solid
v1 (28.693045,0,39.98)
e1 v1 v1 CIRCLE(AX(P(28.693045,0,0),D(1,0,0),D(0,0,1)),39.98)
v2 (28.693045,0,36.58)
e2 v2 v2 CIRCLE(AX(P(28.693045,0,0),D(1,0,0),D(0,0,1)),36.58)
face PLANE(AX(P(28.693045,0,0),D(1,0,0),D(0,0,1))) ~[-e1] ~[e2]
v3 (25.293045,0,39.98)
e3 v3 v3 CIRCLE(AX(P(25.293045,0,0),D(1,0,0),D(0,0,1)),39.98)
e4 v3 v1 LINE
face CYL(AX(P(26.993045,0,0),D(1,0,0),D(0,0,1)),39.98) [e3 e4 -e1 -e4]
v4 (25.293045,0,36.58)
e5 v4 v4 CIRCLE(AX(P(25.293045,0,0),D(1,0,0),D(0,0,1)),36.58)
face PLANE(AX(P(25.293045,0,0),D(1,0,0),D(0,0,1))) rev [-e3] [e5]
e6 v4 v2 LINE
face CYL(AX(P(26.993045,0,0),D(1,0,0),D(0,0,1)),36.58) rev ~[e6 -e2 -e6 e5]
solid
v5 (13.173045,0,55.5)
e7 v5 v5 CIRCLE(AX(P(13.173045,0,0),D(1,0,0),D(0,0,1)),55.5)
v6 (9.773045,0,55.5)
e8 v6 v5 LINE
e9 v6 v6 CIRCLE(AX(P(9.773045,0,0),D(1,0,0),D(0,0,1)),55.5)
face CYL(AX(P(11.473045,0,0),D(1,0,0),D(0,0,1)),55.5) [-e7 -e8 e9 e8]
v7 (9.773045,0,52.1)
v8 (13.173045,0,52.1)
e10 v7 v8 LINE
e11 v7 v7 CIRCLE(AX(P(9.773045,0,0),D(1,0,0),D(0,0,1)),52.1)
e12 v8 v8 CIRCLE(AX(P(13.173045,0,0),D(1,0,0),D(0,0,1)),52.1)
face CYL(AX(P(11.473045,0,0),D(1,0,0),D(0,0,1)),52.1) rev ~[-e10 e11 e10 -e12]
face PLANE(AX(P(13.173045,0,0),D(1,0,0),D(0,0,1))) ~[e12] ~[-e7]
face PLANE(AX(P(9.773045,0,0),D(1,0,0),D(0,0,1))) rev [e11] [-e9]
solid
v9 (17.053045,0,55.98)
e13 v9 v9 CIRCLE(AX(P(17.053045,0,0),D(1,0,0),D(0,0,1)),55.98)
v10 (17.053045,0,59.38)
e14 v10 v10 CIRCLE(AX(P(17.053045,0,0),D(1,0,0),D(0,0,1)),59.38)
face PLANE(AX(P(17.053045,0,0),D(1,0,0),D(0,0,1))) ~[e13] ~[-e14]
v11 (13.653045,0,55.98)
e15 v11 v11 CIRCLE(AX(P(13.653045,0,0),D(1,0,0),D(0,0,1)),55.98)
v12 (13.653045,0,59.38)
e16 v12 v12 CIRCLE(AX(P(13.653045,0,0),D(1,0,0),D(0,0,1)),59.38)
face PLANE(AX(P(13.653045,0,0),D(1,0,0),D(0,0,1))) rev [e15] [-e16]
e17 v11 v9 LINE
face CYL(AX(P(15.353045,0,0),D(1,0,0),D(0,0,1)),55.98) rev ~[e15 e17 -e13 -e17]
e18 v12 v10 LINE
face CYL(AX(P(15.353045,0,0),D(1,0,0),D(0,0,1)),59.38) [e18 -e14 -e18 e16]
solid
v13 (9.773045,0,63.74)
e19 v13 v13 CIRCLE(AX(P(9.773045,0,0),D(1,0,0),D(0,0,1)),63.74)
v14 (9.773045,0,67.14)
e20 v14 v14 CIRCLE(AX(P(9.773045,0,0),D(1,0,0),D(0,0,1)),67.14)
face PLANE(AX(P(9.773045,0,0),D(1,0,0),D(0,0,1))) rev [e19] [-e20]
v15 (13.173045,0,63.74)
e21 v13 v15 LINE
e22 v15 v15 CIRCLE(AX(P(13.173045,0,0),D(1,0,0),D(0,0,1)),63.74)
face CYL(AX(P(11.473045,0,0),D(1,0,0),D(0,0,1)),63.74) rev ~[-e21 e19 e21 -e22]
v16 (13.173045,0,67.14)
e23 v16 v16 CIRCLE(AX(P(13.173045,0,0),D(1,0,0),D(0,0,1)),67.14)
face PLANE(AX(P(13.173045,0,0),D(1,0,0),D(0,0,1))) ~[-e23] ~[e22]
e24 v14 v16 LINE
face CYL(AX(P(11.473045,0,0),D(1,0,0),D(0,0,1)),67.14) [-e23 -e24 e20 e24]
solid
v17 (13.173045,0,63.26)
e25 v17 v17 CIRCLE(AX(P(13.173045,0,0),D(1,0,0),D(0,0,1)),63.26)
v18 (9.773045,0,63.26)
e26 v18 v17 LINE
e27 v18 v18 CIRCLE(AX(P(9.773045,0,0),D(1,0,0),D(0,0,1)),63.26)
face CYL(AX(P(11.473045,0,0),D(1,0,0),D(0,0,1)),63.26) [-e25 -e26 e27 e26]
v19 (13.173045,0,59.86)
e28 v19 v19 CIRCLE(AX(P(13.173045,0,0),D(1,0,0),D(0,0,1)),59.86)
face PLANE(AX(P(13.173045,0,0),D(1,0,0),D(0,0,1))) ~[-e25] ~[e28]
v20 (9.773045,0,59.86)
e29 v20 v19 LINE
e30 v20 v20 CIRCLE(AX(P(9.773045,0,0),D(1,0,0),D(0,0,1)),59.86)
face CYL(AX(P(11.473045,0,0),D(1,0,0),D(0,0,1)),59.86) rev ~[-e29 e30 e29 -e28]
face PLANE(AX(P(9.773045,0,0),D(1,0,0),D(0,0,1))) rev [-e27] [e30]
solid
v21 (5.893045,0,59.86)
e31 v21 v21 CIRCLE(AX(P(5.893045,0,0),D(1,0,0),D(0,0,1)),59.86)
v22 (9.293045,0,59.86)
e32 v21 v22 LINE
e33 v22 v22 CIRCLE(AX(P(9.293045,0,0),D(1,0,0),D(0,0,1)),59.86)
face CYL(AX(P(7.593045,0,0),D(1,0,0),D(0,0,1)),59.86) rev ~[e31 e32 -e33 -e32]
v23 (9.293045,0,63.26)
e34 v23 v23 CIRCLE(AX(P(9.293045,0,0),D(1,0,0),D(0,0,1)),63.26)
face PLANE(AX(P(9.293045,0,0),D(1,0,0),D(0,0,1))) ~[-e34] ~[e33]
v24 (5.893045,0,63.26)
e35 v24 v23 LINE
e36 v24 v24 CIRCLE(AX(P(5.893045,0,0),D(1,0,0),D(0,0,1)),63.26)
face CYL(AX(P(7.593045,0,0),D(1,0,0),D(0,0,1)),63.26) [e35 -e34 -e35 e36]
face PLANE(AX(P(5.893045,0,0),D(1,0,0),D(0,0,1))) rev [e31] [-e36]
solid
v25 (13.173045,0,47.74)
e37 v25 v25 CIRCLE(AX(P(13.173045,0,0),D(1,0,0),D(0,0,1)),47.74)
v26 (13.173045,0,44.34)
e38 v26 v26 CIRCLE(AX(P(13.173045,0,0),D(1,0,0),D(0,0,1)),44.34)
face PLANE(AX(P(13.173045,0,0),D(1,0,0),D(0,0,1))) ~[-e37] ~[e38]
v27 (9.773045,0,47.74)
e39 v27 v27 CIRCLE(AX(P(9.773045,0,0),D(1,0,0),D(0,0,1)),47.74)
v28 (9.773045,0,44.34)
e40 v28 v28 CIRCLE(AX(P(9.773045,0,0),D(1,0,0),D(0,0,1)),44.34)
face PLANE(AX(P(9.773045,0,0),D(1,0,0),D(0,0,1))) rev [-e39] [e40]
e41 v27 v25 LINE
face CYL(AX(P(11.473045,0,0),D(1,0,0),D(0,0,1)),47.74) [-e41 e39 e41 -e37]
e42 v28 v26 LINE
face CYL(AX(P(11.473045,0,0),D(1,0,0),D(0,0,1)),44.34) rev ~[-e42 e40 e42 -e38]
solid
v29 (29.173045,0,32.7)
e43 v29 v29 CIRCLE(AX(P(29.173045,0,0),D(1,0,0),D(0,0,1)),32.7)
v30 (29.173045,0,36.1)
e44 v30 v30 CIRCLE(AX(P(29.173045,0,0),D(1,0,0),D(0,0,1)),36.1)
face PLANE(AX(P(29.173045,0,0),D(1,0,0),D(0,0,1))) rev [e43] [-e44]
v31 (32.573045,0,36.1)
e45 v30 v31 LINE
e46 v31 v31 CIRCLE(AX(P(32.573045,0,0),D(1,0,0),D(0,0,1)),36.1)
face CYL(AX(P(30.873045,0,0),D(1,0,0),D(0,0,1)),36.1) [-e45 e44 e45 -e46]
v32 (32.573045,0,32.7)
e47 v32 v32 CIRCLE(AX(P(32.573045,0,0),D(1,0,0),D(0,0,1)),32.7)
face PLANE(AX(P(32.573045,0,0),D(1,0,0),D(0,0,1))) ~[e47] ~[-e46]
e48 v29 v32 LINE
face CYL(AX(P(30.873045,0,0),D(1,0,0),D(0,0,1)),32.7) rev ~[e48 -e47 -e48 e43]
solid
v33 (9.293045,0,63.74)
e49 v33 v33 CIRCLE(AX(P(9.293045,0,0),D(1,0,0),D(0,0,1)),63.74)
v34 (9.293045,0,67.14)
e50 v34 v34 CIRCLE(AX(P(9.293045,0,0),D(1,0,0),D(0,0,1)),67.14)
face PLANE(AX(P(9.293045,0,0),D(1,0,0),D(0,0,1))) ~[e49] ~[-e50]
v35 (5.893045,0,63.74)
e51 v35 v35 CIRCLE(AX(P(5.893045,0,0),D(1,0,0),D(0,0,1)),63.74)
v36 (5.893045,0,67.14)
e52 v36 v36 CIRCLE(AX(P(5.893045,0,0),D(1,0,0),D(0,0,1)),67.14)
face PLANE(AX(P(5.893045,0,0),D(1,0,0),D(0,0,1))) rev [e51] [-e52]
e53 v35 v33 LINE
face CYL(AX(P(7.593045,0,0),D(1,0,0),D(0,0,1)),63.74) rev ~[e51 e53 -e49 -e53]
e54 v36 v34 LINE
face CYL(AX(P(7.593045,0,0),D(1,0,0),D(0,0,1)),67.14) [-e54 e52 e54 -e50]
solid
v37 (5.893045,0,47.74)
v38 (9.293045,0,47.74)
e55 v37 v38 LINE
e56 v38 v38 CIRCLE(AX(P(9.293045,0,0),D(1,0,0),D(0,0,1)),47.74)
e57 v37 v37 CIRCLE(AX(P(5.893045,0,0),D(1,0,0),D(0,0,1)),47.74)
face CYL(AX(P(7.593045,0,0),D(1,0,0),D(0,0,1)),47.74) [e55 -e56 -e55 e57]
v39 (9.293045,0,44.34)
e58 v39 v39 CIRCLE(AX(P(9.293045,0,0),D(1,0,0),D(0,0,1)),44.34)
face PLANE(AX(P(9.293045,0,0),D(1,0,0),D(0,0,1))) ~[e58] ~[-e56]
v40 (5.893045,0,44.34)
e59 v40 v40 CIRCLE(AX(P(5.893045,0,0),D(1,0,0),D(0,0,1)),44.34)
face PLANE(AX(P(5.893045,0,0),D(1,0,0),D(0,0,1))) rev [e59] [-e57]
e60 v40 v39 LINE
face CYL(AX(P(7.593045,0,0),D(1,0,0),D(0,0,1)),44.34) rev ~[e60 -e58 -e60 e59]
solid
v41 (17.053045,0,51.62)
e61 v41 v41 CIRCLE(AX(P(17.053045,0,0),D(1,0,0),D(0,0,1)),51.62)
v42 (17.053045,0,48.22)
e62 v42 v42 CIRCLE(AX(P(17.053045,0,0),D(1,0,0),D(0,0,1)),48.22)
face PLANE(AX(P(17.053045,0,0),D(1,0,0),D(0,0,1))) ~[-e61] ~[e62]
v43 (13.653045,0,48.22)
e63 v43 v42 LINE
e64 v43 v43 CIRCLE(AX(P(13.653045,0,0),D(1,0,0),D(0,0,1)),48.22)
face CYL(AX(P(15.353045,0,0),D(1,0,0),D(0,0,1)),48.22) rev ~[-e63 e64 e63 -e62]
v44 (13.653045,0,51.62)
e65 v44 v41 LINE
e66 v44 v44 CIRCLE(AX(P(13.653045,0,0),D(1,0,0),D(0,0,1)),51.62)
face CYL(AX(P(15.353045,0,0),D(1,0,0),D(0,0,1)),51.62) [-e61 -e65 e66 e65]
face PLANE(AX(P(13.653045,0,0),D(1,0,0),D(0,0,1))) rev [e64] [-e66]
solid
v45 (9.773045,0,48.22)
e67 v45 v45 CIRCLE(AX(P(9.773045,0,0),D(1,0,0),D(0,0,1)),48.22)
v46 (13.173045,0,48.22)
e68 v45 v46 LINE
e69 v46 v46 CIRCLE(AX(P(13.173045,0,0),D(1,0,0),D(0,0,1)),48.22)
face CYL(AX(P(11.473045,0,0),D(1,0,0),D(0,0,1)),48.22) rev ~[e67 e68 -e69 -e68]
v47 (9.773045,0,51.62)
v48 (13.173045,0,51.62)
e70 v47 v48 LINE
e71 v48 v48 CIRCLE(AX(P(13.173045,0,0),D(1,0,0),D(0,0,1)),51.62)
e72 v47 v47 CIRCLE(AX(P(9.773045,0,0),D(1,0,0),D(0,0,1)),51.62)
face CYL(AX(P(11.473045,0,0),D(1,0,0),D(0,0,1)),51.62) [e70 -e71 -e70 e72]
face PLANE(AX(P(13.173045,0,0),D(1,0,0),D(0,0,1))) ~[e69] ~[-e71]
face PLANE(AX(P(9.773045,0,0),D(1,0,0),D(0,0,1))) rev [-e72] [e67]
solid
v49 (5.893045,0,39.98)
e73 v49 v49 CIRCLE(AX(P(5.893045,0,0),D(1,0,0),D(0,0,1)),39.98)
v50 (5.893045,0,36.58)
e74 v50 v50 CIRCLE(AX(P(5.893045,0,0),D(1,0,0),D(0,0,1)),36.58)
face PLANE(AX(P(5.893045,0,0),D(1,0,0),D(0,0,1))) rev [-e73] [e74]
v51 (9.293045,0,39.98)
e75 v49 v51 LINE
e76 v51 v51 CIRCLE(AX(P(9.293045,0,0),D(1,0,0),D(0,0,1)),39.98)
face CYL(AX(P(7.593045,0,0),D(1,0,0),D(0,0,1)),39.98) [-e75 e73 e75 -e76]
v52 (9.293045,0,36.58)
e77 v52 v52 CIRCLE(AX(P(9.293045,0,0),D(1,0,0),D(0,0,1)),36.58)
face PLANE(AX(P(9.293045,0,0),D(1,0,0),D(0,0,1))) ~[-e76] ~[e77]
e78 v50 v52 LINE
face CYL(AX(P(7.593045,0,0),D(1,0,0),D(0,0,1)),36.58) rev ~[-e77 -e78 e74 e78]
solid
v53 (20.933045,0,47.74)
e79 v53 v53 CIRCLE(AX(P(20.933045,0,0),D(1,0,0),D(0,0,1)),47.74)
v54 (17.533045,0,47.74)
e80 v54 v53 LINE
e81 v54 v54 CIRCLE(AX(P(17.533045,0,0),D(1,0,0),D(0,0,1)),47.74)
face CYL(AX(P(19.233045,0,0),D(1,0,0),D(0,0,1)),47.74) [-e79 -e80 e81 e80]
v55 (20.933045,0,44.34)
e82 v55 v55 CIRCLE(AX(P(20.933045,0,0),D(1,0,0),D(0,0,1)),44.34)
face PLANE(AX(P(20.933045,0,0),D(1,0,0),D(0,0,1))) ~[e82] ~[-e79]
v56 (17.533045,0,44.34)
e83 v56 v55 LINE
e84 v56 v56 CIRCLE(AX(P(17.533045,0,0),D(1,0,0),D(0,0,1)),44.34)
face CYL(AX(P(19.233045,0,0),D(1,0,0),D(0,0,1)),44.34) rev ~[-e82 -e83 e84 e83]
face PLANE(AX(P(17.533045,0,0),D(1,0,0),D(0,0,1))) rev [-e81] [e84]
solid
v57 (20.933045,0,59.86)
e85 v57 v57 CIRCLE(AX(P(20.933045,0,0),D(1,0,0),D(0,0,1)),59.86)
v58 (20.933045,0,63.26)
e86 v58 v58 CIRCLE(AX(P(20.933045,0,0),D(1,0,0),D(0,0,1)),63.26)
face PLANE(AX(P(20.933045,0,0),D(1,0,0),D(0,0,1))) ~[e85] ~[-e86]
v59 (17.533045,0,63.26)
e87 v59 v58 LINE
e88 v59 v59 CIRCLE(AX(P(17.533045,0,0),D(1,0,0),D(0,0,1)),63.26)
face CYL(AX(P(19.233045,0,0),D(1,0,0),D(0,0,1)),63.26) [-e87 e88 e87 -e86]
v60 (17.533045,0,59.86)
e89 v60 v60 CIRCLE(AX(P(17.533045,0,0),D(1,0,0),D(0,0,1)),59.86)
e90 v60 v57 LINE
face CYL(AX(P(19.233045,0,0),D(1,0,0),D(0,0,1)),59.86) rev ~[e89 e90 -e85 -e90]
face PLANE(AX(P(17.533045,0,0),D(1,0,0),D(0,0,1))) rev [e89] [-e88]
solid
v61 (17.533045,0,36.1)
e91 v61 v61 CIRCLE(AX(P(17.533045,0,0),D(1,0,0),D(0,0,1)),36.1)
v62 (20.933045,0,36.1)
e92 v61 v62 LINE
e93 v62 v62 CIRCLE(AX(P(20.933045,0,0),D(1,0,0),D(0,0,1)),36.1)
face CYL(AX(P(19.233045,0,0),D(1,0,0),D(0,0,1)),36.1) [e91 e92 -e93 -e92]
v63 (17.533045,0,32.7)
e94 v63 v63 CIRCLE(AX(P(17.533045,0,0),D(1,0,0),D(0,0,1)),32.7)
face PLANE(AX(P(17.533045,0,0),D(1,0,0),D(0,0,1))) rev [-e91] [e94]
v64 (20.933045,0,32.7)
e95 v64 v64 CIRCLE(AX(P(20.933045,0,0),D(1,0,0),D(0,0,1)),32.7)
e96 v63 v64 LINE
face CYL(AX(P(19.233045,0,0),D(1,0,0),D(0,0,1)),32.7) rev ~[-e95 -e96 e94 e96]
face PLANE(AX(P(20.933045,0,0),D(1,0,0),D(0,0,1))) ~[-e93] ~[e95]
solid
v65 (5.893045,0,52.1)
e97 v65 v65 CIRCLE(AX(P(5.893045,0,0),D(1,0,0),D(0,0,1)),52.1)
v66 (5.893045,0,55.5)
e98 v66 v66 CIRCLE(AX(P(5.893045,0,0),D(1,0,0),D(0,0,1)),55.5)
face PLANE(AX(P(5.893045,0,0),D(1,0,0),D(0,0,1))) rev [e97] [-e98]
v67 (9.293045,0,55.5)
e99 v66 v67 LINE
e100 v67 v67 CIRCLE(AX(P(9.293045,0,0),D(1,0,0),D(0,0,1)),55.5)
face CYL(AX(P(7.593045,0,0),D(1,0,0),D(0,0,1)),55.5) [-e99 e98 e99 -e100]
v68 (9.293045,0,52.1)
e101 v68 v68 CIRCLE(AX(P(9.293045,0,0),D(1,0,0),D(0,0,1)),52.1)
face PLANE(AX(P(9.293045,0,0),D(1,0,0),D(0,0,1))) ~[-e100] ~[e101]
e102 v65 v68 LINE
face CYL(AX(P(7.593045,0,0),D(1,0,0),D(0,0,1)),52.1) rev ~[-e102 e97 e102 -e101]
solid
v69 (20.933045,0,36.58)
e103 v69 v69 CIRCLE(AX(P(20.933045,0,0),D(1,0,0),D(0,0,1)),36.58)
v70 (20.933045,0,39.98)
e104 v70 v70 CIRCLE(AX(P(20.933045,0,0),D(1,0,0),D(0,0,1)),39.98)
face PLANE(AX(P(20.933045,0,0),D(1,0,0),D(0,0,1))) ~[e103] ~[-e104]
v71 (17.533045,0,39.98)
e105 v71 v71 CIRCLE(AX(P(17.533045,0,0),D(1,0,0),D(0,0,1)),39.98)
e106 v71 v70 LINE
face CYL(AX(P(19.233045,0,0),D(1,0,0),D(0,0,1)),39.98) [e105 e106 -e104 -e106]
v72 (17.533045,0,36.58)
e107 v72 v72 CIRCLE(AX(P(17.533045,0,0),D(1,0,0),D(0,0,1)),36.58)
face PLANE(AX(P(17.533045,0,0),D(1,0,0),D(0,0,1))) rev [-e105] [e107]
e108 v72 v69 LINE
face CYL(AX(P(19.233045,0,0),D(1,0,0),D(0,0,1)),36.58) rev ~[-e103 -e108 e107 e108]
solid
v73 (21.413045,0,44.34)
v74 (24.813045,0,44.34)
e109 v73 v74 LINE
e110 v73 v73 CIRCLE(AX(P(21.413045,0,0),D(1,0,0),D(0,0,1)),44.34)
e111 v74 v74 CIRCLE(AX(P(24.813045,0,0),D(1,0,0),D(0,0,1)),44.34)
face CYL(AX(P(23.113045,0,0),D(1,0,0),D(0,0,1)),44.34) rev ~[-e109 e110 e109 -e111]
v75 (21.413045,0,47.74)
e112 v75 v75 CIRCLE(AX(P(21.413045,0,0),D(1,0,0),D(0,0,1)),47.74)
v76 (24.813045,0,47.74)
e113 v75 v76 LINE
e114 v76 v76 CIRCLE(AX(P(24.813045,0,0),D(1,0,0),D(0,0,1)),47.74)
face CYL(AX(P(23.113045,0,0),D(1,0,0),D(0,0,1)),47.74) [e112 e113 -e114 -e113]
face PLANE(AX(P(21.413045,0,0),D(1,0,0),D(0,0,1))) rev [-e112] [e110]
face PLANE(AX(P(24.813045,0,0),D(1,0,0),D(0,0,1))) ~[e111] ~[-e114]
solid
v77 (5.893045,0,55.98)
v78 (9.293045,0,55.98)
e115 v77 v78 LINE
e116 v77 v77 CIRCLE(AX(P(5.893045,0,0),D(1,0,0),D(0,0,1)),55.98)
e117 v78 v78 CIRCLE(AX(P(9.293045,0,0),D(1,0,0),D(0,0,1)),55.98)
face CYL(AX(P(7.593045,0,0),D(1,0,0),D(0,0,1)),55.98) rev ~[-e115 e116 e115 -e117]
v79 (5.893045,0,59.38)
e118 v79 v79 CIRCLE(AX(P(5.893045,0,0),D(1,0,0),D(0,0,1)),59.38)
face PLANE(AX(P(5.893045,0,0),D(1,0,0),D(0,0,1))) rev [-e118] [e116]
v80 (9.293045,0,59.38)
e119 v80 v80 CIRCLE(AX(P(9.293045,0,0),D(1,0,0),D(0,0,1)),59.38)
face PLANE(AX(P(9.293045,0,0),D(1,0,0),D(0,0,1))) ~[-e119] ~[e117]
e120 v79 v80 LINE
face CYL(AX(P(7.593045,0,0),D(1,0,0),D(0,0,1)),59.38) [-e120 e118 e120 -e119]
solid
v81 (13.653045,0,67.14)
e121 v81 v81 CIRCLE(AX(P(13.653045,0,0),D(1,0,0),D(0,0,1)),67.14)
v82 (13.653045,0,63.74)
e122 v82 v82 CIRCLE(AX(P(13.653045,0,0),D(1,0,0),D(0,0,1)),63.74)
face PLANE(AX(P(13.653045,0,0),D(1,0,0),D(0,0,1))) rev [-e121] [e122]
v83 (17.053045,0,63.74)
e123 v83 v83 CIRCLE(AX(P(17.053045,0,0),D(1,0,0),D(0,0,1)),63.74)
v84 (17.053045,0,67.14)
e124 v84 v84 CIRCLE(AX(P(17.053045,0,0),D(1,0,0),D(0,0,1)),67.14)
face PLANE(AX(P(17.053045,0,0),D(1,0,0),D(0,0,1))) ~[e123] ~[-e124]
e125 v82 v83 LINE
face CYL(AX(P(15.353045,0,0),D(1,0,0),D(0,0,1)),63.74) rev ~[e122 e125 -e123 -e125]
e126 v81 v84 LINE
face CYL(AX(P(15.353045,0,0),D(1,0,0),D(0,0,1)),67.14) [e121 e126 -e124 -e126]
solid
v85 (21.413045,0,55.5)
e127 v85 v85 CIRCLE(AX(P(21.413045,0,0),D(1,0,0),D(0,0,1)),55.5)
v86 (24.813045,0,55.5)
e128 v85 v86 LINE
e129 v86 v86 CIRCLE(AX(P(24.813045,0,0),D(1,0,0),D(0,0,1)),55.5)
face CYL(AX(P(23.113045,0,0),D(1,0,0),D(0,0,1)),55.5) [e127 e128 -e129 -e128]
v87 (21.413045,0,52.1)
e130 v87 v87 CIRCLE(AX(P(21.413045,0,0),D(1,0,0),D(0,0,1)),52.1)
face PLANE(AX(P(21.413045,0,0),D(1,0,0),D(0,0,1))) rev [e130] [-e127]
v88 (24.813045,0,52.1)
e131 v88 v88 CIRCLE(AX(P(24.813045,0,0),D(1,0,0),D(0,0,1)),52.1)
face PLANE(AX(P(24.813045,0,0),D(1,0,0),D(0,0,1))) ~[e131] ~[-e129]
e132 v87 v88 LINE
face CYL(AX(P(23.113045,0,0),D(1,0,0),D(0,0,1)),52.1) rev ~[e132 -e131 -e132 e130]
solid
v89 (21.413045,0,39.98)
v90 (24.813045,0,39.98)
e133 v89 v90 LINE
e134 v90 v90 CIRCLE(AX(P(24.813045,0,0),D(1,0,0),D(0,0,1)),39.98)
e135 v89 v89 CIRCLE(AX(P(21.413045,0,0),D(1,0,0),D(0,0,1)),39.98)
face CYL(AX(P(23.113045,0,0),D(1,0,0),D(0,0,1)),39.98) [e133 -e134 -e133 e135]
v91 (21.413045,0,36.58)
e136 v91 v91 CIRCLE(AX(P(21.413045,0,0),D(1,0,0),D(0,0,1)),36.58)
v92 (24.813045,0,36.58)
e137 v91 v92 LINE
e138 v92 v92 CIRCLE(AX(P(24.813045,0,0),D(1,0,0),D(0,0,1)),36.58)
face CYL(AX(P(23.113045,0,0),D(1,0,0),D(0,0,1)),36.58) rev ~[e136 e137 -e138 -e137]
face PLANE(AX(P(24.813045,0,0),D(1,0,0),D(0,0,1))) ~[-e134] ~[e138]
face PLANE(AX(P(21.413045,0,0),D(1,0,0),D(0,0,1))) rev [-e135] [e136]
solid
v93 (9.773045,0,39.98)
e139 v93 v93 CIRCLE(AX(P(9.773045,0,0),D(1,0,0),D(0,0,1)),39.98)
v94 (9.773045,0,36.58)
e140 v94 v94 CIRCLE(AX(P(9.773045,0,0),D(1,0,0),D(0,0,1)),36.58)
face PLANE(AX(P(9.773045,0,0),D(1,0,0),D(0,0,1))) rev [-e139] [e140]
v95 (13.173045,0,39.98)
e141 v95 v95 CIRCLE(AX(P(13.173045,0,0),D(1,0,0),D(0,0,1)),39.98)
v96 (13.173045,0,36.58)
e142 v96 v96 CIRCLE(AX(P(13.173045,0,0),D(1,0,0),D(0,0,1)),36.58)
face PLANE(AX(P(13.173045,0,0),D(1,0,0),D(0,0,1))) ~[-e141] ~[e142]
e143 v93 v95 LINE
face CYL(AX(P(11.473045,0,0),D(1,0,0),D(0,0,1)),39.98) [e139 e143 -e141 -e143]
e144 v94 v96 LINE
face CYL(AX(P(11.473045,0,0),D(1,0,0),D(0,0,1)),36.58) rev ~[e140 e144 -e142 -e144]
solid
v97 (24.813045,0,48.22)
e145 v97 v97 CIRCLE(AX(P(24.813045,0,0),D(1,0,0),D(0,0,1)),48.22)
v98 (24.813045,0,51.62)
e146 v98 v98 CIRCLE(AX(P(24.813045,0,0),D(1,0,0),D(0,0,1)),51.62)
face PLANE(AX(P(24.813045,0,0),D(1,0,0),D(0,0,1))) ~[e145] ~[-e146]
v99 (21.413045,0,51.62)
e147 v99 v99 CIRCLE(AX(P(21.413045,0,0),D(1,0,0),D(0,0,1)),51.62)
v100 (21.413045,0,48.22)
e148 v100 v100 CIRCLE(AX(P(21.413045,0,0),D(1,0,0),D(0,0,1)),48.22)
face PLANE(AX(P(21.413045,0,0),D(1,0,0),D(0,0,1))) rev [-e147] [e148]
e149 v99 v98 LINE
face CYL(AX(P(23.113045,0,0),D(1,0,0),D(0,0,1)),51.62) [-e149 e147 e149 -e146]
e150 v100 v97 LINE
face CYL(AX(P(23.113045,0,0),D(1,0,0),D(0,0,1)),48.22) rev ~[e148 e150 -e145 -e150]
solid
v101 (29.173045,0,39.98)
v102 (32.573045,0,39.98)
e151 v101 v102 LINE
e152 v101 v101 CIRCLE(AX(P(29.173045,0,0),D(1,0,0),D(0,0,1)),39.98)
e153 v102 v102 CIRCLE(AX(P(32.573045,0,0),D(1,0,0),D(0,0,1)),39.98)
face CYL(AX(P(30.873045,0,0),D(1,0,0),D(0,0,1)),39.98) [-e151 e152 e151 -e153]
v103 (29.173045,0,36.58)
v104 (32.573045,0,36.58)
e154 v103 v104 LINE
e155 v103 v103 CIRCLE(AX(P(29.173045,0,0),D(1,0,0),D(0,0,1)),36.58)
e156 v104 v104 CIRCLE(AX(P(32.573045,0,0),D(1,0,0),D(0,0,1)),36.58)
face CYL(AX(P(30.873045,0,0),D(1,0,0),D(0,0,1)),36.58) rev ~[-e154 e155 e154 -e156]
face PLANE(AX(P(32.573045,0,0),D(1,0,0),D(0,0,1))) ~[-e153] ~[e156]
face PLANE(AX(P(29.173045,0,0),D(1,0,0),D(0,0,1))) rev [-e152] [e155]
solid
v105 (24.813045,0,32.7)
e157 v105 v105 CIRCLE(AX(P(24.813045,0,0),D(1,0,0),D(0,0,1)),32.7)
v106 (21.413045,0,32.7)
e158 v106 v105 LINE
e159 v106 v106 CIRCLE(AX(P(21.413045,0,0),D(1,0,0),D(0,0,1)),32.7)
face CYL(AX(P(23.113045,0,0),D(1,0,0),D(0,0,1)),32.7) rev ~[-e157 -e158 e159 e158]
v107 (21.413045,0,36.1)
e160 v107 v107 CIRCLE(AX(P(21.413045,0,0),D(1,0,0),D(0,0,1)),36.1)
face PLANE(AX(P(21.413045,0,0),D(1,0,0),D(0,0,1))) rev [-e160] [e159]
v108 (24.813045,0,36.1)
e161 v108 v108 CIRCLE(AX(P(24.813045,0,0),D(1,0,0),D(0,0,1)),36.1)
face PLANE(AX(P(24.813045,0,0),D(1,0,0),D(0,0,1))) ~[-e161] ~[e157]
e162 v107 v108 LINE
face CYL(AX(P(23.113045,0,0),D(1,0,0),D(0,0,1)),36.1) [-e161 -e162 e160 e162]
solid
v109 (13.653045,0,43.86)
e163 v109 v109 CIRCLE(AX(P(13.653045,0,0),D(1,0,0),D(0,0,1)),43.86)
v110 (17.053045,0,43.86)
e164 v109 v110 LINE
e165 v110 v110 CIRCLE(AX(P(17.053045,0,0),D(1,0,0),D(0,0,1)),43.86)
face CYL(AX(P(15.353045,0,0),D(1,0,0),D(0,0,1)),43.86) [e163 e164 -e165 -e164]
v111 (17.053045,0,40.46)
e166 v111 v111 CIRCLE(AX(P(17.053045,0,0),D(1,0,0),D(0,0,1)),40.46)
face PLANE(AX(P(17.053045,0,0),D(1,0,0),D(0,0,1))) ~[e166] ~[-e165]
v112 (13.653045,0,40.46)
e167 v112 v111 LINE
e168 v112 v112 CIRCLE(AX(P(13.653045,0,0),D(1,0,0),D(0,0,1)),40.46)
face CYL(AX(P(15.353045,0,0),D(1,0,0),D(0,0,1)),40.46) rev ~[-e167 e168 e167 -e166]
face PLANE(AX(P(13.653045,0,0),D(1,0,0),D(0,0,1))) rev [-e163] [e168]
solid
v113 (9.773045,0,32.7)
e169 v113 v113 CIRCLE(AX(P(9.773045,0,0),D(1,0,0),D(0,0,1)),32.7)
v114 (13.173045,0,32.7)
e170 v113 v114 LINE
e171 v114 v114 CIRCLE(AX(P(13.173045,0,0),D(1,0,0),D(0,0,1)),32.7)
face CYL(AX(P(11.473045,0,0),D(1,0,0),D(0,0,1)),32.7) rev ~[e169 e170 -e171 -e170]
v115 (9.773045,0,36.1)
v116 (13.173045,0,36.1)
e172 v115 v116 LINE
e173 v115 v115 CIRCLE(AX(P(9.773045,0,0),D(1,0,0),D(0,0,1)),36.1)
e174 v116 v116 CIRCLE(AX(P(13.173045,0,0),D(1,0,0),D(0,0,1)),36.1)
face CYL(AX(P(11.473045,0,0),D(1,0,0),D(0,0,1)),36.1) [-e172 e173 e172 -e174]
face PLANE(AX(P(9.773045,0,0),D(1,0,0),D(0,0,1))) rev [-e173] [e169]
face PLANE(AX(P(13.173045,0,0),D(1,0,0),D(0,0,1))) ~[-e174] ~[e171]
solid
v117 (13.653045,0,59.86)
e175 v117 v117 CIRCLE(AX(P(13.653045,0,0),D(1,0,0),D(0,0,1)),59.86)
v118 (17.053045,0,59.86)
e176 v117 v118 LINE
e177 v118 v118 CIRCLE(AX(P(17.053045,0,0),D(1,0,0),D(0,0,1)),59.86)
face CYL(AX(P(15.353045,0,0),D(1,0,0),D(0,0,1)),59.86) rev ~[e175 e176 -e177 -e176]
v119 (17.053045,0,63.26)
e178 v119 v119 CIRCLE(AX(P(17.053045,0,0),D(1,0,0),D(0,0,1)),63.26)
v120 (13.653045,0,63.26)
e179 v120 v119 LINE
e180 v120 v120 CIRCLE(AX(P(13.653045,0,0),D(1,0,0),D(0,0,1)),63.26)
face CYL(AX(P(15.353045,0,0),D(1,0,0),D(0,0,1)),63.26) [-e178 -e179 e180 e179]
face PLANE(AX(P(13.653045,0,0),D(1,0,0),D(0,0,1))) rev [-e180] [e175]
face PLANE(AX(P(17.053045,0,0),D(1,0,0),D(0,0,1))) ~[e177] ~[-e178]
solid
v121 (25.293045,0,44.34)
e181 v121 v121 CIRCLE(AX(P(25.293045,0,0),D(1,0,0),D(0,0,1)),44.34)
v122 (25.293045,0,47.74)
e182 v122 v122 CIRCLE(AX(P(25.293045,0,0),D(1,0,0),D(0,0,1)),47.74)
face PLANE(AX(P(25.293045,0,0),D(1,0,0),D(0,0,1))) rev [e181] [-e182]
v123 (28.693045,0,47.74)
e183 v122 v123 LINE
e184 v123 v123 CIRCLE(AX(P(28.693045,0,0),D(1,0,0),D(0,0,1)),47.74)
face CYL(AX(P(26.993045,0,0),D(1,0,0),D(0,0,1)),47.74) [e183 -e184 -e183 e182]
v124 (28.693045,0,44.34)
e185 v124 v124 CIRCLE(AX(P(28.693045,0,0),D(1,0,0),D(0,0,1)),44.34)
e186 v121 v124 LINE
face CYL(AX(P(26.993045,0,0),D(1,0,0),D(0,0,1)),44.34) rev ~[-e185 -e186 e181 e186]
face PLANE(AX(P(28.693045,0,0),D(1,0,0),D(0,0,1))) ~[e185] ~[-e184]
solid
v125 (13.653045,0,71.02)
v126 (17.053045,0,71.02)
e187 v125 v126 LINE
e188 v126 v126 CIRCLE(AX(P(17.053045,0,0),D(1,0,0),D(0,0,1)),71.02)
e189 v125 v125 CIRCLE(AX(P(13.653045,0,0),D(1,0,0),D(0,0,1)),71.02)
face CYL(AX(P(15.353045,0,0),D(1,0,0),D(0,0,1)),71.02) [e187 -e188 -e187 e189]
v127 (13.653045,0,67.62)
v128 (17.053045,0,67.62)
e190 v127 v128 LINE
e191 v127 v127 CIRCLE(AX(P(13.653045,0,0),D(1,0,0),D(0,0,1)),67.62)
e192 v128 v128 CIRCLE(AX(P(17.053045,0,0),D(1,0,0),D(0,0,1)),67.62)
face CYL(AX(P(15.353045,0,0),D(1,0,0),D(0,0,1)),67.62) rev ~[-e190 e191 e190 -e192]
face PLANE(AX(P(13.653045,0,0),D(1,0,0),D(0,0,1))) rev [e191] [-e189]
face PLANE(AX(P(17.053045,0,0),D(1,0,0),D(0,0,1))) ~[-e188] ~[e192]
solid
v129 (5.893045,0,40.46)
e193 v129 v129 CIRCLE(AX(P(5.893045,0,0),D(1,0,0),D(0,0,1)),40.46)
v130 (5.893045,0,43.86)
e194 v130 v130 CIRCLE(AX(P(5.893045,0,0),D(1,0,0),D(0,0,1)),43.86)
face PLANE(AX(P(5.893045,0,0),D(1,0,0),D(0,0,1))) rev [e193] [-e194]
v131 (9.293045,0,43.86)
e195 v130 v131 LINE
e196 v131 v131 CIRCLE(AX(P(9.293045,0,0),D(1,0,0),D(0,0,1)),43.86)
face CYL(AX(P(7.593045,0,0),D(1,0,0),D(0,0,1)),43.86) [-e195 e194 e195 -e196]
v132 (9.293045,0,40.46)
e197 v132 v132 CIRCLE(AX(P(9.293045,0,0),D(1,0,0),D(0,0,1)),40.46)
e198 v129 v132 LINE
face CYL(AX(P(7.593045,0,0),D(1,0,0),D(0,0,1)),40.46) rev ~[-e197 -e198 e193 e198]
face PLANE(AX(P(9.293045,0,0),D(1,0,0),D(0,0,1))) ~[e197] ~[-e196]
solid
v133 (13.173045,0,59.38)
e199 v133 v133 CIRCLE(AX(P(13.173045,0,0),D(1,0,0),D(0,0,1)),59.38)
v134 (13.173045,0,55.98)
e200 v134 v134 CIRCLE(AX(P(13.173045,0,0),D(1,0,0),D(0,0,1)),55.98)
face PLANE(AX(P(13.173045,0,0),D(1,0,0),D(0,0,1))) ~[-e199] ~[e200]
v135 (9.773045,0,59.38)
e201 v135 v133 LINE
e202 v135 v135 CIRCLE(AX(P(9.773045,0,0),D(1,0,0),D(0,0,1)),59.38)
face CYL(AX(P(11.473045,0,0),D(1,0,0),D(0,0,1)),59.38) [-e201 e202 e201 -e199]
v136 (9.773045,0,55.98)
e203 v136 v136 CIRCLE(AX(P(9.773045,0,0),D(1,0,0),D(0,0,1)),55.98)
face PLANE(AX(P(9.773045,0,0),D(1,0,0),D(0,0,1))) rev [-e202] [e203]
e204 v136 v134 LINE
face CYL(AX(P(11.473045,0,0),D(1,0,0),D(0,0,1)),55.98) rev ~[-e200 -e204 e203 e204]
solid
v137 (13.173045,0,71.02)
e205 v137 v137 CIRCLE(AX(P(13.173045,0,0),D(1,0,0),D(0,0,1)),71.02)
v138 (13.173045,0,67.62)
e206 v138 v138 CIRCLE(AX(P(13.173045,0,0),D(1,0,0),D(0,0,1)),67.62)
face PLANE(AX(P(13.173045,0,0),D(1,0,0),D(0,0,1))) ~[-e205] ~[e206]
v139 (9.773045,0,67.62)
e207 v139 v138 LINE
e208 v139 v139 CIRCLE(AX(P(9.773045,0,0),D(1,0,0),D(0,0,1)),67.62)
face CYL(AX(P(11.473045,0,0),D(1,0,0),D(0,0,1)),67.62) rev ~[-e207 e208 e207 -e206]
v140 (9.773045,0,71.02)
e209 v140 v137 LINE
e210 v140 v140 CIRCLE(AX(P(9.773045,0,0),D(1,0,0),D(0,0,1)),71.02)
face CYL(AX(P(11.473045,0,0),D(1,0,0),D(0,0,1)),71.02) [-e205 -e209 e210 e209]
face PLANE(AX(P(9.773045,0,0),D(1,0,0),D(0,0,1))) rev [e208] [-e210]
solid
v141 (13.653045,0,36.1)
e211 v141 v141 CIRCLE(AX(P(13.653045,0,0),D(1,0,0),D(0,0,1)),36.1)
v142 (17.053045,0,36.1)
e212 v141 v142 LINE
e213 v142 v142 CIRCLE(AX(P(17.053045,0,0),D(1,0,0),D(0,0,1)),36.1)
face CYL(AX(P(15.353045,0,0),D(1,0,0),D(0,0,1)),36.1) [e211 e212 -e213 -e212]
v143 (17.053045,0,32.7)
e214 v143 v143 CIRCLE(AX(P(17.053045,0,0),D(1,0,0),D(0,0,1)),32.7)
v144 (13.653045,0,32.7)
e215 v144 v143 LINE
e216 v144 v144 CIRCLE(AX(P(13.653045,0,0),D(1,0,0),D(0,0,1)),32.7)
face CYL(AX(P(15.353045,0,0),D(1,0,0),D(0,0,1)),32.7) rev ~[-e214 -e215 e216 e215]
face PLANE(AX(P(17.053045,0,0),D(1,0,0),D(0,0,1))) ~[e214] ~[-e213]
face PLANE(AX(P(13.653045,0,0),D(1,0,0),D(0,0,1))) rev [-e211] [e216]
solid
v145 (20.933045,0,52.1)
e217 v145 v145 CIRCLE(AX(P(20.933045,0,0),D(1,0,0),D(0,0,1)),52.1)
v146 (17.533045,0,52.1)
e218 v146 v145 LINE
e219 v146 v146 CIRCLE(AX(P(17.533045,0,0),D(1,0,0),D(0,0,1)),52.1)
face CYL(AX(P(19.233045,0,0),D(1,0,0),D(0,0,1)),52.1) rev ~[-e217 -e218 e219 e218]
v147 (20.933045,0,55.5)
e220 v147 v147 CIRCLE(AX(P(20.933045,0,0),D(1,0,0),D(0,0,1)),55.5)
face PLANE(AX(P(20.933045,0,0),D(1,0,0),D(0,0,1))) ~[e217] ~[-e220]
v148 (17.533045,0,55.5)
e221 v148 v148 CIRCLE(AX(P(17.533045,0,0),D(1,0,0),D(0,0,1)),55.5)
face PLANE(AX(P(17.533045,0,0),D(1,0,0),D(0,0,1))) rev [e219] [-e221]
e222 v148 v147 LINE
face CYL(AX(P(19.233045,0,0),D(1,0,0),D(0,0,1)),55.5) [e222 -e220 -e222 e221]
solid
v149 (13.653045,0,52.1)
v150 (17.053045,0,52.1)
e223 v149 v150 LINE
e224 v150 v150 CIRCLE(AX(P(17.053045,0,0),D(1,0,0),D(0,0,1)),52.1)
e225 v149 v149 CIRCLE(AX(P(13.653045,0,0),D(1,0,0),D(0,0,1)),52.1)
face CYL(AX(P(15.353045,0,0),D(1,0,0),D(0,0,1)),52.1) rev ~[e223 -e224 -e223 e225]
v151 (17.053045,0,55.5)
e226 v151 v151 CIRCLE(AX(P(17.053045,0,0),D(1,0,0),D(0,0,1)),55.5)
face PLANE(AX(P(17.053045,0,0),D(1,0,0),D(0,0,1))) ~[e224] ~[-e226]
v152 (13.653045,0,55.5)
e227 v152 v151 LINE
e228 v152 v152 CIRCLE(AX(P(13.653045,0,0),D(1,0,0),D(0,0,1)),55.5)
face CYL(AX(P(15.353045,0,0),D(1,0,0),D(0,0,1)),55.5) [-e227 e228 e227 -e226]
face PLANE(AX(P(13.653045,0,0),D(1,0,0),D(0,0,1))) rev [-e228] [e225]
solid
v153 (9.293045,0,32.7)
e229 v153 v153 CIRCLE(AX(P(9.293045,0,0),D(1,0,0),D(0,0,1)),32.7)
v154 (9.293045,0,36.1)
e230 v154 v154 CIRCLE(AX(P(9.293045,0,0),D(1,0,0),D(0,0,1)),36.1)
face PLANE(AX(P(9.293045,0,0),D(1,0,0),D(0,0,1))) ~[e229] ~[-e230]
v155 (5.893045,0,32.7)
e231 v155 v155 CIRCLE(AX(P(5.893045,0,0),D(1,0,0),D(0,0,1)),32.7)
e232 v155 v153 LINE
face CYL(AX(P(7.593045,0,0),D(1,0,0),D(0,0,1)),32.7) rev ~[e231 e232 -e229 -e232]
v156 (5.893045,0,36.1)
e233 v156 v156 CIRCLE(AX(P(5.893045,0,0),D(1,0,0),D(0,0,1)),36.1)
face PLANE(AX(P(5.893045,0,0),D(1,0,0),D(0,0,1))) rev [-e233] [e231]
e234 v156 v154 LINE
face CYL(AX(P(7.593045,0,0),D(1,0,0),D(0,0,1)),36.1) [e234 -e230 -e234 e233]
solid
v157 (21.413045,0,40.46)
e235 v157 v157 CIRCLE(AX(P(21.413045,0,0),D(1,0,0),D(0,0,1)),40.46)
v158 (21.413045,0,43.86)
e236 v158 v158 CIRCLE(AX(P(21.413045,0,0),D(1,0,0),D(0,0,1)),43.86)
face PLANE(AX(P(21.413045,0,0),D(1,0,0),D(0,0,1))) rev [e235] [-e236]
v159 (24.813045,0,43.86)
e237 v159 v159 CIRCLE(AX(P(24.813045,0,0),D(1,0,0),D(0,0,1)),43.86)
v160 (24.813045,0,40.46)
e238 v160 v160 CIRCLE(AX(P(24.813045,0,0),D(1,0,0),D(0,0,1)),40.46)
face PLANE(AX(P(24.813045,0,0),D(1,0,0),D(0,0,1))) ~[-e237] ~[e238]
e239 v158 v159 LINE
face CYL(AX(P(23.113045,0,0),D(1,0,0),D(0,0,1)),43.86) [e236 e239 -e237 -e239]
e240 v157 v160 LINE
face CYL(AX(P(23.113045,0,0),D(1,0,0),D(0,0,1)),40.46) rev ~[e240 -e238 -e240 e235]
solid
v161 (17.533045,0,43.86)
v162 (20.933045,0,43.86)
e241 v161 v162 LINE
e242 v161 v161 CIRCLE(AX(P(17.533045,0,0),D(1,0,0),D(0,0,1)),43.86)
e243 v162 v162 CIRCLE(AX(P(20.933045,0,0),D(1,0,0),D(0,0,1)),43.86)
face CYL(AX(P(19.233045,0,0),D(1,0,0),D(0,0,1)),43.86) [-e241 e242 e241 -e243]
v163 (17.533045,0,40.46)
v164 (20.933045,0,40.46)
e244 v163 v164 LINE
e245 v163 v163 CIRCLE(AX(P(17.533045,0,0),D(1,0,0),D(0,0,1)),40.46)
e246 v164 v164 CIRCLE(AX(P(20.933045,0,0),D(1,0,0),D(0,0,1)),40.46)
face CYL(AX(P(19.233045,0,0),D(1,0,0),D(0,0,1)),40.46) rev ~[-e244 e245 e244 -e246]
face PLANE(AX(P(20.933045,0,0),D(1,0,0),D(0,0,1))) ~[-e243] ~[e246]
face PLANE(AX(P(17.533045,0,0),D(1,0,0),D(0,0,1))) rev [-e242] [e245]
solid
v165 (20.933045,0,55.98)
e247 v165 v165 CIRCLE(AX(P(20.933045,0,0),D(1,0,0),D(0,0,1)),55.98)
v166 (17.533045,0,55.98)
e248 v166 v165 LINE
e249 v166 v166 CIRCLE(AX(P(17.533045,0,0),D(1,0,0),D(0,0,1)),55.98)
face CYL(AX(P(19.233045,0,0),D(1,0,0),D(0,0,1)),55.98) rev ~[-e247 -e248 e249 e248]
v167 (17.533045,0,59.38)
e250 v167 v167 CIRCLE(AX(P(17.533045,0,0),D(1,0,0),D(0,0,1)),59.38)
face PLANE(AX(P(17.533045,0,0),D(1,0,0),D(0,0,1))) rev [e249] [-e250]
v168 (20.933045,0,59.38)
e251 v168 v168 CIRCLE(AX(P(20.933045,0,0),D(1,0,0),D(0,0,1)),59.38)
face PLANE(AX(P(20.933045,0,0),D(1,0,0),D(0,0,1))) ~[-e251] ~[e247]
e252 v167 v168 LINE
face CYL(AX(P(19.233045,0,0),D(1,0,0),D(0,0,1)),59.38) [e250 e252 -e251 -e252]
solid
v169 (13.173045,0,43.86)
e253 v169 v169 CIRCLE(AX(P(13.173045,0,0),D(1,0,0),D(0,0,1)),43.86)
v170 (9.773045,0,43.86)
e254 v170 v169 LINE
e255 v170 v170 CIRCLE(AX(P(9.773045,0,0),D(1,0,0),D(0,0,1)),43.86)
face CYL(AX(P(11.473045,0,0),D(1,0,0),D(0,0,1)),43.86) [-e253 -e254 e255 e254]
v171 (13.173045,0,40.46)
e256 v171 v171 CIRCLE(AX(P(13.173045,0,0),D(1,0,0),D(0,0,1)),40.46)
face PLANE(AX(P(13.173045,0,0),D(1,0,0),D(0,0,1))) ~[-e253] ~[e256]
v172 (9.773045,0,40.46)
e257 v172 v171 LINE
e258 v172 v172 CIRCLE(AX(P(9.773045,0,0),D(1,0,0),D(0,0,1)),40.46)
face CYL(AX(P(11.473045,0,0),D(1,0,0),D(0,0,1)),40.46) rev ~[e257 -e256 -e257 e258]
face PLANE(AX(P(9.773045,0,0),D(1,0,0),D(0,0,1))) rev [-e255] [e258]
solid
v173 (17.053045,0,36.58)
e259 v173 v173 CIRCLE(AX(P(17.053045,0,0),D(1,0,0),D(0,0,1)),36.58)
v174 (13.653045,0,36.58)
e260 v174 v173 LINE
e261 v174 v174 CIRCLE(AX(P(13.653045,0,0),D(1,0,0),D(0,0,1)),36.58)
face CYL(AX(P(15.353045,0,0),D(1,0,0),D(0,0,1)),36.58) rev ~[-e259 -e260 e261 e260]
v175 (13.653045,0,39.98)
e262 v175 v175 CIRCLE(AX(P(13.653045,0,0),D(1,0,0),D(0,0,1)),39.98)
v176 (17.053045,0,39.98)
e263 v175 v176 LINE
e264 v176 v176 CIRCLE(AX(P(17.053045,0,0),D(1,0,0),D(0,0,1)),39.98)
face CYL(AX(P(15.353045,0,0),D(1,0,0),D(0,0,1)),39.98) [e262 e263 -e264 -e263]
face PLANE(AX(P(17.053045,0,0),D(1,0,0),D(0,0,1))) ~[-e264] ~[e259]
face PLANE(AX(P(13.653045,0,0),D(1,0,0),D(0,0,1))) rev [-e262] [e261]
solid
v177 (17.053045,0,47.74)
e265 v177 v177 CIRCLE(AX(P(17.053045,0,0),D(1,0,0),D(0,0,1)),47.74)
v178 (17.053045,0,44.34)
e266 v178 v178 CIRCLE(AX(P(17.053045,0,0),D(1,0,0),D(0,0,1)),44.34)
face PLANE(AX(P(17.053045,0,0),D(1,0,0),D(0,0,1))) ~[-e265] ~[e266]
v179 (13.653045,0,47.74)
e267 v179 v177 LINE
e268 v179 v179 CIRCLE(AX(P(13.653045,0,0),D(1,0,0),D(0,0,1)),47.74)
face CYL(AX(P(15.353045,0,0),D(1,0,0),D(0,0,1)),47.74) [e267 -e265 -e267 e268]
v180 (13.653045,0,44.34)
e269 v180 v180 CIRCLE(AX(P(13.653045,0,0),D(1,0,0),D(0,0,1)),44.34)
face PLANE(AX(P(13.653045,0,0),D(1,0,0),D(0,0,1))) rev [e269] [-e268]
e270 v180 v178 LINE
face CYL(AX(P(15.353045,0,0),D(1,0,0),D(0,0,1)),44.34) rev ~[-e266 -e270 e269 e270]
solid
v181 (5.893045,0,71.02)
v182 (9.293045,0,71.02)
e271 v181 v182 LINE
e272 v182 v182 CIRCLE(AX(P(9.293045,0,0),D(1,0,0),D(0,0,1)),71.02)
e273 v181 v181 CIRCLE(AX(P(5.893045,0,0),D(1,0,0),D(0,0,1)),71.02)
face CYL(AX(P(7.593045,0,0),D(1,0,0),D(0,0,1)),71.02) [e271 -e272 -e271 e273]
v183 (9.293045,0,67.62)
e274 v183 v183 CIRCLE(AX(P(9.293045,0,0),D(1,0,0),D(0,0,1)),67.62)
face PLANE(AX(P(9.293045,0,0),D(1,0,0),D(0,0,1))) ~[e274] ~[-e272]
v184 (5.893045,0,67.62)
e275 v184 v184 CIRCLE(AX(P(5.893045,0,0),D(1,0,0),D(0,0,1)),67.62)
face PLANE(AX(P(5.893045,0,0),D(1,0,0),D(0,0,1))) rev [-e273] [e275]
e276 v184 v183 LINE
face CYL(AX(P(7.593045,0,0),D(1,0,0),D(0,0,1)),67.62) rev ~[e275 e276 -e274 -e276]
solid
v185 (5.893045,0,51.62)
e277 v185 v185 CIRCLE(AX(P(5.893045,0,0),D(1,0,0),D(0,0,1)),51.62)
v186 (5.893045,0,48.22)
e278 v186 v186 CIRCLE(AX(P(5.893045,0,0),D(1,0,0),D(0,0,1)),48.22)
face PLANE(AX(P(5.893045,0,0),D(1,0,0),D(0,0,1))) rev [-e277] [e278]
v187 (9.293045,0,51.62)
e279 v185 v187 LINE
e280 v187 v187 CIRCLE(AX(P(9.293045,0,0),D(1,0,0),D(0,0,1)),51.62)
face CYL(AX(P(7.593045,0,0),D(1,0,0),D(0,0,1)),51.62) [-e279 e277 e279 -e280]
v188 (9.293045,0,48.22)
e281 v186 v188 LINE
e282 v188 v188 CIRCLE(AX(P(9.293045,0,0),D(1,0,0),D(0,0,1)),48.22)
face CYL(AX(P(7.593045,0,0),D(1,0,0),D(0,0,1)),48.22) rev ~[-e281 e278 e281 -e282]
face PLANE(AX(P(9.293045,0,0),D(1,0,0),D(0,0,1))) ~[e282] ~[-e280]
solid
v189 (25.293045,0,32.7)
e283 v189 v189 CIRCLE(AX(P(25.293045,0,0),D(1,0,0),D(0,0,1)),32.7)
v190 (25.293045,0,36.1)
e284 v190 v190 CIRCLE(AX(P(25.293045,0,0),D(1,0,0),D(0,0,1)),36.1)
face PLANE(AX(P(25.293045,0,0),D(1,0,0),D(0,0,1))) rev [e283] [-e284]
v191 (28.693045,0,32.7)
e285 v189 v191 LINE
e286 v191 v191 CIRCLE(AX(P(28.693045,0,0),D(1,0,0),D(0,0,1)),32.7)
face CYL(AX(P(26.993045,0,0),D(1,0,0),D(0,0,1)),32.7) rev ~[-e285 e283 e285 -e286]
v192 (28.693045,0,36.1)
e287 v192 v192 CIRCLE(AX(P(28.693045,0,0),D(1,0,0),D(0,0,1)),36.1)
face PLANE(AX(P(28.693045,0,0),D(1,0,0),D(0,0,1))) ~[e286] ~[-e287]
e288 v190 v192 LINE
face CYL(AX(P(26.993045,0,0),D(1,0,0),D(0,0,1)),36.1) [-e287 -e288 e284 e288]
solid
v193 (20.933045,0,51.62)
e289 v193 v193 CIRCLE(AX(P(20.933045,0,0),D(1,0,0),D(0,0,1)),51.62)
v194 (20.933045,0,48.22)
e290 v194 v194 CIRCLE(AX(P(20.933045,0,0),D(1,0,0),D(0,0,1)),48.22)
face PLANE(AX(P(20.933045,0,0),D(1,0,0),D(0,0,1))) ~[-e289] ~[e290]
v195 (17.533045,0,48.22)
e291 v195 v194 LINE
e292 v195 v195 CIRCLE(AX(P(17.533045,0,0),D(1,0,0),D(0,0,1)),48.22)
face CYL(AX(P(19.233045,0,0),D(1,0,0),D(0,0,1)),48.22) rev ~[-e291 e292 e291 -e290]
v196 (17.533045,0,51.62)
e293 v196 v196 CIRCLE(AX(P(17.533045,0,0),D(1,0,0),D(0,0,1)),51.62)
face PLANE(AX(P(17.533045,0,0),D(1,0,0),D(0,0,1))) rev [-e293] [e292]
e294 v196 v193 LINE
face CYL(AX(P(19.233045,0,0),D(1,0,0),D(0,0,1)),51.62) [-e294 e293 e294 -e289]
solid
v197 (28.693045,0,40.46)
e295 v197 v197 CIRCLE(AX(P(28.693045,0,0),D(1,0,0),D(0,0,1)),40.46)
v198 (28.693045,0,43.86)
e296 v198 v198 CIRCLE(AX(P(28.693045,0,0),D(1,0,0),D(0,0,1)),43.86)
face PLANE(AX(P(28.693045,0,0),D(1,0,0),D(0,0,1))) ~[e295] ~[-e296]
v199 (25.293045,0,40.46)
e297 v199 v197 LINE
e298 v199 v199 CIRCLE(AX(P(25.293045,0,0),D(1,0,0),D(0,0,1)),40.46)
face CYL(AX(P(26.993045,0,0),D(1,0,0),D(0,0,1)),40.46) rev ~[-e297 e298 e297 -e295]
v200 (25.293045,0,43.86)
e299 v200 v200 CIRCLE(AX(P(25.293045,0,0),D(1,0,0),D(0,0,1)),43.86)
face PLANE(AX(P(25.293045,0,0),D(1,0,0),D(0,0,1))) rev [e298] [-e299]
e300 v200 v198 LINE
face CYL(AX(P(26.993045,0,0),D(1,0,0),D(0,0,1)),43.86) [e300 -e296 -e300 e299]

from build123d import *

# Parameters (mm, degrees)
SKETCH1_W = 3.4
SKETCH1_H = 3.4


with BuildPart() as part:
    # Sketch1 → Revolve2 (revolve)
    with BuildSketch(Plane.XY, mode=Mode.PRIVATE) as revolve2_sk:
        with Locations((11.47304498, 34.4)):
            Rectangle(SKETCH1_W, SKETCH1_H)
        with Locations((7.59304498, 34.4)):
            Rectangle(SKETCH1_W, SKETCH1_H)
        with Locations((15.35304498, 34.4)):
            Rectangle(SKETCH1_W, SKETCH1_H)
        with Locations((19.23304498, 34.4)):
            Rectangle(SKETCH1_W, SKETCH1_H)
        with Locations((23.11304498, 34.4)):
            Rectangle(SKETCH1_W, SKETCH1_H)
        with Locations((26.99304498, 34.4)):
            Rectangle(SKETCH1_W, SKETCH1_H)
        with Locations((30.87304498, 34.4)):
            Rectangle(SKETCH1_W, SKETCH1_H)
        with Locations((7.59304498, 38.28)):
            Rectangle(SKETCH1_W, SKETCH1_H)
        with Locations((11.47304498, 38.28)):
            Rectangle(SKETCH1_W, SKETCH1_H)
        with Locations((15.35304498, 38.28)):
            Rectangle(SKETCH1_W, SKETCH1_H)
        with Locations((19.23304498, 38.28)):
            Rectangle(SKETCH1_W, SKETCH1_H)
        with Locations((23.11304498, 38.28)):
            Rectangle(SKETCH1_W, SKETCH1_H)
        with Locations((26.99304498, 38.28)):
            Rectangle(SKETCH1_W, SKETCH1_H)
        with Locations((30.87304498, 38.28)):
            Rectangle(SKETCH1_W, SKETCH1_H)
        with Locations((7.59304498, 42.16)):
            Rectangle(SKETCH1_W, SKETCH1_H)
        with Locations((11.47304498, 42.16)):
            Rectangle(SKETCH1_W, SKETCH1_H)
        with Locations((15.35304498, 42.16)):
            Rectangle(SKETCH1_W, SKETCH1_H)
        with Locations((19.23304498, 42.16)):
            Rectangle(SKETCH1_W, SKETCH1_H)
        with Locations((23.11304498, 42.16)):
            Rectangle(SKETCH1_W, SKETCH1_H)
        with Locations((26.99304498, 42.16)):
            Rectangle(SKETCH1_W, SKETCH1_H)
        with Locations((7.59304498, 46.04)):
            Rectangle(SKETCH1_W, SKETCH1_H)
        with Locations((11.47304498, 46.04)):
            Rectangle(SKETCH1_W, SKETCH1_H)
        with Locations((15.35304498, 46.04)):
            Rectangle(SKETCH1_W, SKETCH1_H)
        with Locations((19.23304498, 46.04)):
            Rectangle(SKETCH1_W, SKETCH1_H)
        with Locations((23.11304498, 46.04)):
            Rectangle(SKETCH1_W, SKETCH1_H)
        with Locations((26.99304498, 46.04)):
            Rectangle(SKETCH1_W, SKETCH1_H)
        with Locations((7.59304498, 49.92)):
            Rectangle(SKETCH1_W, SKETCH1_H)
        with Locations((11.47304498, 49.92)):
            Rectangle(SKETCH1_W, SKETCH1_H)
        with Locations((15.35304498, 49.92)):
            Rectangle(SKETCH1_W, SKETCH1_H)
        with Locations((19.23304498, 49.92)):
            Rectangle(SKETCH1_W, SKETCH1_H)
        with Locations((23.11304498, 49.92)):
            Rectangle(SKETCH1_W, SKETCH1_H)
        with Locations((7.59304498, 53.8)):
            Rectangle(SKETCH1_W, SKETCH1_H)
        with Locations((11.47304498, 53.8)):
            Rectangle(SKETCH1_W, SKETCH1_H)
        with Locations((15.35304498, 53.8)):
            Rectangle(SKETCH1_W, SKETCH1_H)
        with Locations((19.23304498, 53.8)):
            Rectangle(SKETCH1_W, SKETCH1_H)
        with Locations((23.11304498, 53.8)):
            Rectangle(SKETCH1_W, SKETCH1_H)
        with Locations((7.59304498, 57.68)):
            Rectangle(SKETCH1_W, SKETCH1_H)
        with Locations((11.47304498, 57.68)):
            Rectangle(SKETCH1_W, SKETCH1_H)
        with Locations((15.35304498, 57.68)):
            Rectangle(SKETCH1_W, SKETCH1_H)
        with Locations((19.23304498, 57.68)):
            Rectangle(SKETCH1_W, SKETCH1_H)
        with Locations((7.59304498, 61.56)):
            Rectangle(SKETCH1_W, SKETCH1_H)
        with Locations((11.47304498, 61.56)):
            Rectangle(SKETCH1_W, SKETCH1_H)
        with Locations((15.35304498, 61.56)):
            Rectangle(SKETCH1_W, SKETCH1_H)
        with Locations((19.23304498, 61.56)):
            Rectangle(SKETCH1_W, SKETCH1_H)
        with Locations((7.59304498, 65.44)):
            Rectangle(SKETCH1_W, SKETCH1_H)
        with Locations((11.47304498, 65.44)):
            Rectangle(SKETCH1_W, SKETCH1_H)
        with Locations((15.35304498, 65.44)):
            Rectangle(SKETCH1_W, SKETCH1_H)
        with Locations((7.59304498, 69.32)):
            Rectangle(SKETCH1_W, SKETCH1_H)
        with Locations((11.47304498, 69.32)):
            Rectangle(SKETCH1_W, SKETCH1_H)
        with Locations((15.35304498, 69.32)):
            Rectangle(SKETCH1_W, SKETCH1_H)
    revolve(revolve2_sk.sketch.rotate(Axis((0, 0, 0), (1, 0, 0)), 90), axis=Axis((0, 0, 0), (1, 0, 0)))


solid = part.part
